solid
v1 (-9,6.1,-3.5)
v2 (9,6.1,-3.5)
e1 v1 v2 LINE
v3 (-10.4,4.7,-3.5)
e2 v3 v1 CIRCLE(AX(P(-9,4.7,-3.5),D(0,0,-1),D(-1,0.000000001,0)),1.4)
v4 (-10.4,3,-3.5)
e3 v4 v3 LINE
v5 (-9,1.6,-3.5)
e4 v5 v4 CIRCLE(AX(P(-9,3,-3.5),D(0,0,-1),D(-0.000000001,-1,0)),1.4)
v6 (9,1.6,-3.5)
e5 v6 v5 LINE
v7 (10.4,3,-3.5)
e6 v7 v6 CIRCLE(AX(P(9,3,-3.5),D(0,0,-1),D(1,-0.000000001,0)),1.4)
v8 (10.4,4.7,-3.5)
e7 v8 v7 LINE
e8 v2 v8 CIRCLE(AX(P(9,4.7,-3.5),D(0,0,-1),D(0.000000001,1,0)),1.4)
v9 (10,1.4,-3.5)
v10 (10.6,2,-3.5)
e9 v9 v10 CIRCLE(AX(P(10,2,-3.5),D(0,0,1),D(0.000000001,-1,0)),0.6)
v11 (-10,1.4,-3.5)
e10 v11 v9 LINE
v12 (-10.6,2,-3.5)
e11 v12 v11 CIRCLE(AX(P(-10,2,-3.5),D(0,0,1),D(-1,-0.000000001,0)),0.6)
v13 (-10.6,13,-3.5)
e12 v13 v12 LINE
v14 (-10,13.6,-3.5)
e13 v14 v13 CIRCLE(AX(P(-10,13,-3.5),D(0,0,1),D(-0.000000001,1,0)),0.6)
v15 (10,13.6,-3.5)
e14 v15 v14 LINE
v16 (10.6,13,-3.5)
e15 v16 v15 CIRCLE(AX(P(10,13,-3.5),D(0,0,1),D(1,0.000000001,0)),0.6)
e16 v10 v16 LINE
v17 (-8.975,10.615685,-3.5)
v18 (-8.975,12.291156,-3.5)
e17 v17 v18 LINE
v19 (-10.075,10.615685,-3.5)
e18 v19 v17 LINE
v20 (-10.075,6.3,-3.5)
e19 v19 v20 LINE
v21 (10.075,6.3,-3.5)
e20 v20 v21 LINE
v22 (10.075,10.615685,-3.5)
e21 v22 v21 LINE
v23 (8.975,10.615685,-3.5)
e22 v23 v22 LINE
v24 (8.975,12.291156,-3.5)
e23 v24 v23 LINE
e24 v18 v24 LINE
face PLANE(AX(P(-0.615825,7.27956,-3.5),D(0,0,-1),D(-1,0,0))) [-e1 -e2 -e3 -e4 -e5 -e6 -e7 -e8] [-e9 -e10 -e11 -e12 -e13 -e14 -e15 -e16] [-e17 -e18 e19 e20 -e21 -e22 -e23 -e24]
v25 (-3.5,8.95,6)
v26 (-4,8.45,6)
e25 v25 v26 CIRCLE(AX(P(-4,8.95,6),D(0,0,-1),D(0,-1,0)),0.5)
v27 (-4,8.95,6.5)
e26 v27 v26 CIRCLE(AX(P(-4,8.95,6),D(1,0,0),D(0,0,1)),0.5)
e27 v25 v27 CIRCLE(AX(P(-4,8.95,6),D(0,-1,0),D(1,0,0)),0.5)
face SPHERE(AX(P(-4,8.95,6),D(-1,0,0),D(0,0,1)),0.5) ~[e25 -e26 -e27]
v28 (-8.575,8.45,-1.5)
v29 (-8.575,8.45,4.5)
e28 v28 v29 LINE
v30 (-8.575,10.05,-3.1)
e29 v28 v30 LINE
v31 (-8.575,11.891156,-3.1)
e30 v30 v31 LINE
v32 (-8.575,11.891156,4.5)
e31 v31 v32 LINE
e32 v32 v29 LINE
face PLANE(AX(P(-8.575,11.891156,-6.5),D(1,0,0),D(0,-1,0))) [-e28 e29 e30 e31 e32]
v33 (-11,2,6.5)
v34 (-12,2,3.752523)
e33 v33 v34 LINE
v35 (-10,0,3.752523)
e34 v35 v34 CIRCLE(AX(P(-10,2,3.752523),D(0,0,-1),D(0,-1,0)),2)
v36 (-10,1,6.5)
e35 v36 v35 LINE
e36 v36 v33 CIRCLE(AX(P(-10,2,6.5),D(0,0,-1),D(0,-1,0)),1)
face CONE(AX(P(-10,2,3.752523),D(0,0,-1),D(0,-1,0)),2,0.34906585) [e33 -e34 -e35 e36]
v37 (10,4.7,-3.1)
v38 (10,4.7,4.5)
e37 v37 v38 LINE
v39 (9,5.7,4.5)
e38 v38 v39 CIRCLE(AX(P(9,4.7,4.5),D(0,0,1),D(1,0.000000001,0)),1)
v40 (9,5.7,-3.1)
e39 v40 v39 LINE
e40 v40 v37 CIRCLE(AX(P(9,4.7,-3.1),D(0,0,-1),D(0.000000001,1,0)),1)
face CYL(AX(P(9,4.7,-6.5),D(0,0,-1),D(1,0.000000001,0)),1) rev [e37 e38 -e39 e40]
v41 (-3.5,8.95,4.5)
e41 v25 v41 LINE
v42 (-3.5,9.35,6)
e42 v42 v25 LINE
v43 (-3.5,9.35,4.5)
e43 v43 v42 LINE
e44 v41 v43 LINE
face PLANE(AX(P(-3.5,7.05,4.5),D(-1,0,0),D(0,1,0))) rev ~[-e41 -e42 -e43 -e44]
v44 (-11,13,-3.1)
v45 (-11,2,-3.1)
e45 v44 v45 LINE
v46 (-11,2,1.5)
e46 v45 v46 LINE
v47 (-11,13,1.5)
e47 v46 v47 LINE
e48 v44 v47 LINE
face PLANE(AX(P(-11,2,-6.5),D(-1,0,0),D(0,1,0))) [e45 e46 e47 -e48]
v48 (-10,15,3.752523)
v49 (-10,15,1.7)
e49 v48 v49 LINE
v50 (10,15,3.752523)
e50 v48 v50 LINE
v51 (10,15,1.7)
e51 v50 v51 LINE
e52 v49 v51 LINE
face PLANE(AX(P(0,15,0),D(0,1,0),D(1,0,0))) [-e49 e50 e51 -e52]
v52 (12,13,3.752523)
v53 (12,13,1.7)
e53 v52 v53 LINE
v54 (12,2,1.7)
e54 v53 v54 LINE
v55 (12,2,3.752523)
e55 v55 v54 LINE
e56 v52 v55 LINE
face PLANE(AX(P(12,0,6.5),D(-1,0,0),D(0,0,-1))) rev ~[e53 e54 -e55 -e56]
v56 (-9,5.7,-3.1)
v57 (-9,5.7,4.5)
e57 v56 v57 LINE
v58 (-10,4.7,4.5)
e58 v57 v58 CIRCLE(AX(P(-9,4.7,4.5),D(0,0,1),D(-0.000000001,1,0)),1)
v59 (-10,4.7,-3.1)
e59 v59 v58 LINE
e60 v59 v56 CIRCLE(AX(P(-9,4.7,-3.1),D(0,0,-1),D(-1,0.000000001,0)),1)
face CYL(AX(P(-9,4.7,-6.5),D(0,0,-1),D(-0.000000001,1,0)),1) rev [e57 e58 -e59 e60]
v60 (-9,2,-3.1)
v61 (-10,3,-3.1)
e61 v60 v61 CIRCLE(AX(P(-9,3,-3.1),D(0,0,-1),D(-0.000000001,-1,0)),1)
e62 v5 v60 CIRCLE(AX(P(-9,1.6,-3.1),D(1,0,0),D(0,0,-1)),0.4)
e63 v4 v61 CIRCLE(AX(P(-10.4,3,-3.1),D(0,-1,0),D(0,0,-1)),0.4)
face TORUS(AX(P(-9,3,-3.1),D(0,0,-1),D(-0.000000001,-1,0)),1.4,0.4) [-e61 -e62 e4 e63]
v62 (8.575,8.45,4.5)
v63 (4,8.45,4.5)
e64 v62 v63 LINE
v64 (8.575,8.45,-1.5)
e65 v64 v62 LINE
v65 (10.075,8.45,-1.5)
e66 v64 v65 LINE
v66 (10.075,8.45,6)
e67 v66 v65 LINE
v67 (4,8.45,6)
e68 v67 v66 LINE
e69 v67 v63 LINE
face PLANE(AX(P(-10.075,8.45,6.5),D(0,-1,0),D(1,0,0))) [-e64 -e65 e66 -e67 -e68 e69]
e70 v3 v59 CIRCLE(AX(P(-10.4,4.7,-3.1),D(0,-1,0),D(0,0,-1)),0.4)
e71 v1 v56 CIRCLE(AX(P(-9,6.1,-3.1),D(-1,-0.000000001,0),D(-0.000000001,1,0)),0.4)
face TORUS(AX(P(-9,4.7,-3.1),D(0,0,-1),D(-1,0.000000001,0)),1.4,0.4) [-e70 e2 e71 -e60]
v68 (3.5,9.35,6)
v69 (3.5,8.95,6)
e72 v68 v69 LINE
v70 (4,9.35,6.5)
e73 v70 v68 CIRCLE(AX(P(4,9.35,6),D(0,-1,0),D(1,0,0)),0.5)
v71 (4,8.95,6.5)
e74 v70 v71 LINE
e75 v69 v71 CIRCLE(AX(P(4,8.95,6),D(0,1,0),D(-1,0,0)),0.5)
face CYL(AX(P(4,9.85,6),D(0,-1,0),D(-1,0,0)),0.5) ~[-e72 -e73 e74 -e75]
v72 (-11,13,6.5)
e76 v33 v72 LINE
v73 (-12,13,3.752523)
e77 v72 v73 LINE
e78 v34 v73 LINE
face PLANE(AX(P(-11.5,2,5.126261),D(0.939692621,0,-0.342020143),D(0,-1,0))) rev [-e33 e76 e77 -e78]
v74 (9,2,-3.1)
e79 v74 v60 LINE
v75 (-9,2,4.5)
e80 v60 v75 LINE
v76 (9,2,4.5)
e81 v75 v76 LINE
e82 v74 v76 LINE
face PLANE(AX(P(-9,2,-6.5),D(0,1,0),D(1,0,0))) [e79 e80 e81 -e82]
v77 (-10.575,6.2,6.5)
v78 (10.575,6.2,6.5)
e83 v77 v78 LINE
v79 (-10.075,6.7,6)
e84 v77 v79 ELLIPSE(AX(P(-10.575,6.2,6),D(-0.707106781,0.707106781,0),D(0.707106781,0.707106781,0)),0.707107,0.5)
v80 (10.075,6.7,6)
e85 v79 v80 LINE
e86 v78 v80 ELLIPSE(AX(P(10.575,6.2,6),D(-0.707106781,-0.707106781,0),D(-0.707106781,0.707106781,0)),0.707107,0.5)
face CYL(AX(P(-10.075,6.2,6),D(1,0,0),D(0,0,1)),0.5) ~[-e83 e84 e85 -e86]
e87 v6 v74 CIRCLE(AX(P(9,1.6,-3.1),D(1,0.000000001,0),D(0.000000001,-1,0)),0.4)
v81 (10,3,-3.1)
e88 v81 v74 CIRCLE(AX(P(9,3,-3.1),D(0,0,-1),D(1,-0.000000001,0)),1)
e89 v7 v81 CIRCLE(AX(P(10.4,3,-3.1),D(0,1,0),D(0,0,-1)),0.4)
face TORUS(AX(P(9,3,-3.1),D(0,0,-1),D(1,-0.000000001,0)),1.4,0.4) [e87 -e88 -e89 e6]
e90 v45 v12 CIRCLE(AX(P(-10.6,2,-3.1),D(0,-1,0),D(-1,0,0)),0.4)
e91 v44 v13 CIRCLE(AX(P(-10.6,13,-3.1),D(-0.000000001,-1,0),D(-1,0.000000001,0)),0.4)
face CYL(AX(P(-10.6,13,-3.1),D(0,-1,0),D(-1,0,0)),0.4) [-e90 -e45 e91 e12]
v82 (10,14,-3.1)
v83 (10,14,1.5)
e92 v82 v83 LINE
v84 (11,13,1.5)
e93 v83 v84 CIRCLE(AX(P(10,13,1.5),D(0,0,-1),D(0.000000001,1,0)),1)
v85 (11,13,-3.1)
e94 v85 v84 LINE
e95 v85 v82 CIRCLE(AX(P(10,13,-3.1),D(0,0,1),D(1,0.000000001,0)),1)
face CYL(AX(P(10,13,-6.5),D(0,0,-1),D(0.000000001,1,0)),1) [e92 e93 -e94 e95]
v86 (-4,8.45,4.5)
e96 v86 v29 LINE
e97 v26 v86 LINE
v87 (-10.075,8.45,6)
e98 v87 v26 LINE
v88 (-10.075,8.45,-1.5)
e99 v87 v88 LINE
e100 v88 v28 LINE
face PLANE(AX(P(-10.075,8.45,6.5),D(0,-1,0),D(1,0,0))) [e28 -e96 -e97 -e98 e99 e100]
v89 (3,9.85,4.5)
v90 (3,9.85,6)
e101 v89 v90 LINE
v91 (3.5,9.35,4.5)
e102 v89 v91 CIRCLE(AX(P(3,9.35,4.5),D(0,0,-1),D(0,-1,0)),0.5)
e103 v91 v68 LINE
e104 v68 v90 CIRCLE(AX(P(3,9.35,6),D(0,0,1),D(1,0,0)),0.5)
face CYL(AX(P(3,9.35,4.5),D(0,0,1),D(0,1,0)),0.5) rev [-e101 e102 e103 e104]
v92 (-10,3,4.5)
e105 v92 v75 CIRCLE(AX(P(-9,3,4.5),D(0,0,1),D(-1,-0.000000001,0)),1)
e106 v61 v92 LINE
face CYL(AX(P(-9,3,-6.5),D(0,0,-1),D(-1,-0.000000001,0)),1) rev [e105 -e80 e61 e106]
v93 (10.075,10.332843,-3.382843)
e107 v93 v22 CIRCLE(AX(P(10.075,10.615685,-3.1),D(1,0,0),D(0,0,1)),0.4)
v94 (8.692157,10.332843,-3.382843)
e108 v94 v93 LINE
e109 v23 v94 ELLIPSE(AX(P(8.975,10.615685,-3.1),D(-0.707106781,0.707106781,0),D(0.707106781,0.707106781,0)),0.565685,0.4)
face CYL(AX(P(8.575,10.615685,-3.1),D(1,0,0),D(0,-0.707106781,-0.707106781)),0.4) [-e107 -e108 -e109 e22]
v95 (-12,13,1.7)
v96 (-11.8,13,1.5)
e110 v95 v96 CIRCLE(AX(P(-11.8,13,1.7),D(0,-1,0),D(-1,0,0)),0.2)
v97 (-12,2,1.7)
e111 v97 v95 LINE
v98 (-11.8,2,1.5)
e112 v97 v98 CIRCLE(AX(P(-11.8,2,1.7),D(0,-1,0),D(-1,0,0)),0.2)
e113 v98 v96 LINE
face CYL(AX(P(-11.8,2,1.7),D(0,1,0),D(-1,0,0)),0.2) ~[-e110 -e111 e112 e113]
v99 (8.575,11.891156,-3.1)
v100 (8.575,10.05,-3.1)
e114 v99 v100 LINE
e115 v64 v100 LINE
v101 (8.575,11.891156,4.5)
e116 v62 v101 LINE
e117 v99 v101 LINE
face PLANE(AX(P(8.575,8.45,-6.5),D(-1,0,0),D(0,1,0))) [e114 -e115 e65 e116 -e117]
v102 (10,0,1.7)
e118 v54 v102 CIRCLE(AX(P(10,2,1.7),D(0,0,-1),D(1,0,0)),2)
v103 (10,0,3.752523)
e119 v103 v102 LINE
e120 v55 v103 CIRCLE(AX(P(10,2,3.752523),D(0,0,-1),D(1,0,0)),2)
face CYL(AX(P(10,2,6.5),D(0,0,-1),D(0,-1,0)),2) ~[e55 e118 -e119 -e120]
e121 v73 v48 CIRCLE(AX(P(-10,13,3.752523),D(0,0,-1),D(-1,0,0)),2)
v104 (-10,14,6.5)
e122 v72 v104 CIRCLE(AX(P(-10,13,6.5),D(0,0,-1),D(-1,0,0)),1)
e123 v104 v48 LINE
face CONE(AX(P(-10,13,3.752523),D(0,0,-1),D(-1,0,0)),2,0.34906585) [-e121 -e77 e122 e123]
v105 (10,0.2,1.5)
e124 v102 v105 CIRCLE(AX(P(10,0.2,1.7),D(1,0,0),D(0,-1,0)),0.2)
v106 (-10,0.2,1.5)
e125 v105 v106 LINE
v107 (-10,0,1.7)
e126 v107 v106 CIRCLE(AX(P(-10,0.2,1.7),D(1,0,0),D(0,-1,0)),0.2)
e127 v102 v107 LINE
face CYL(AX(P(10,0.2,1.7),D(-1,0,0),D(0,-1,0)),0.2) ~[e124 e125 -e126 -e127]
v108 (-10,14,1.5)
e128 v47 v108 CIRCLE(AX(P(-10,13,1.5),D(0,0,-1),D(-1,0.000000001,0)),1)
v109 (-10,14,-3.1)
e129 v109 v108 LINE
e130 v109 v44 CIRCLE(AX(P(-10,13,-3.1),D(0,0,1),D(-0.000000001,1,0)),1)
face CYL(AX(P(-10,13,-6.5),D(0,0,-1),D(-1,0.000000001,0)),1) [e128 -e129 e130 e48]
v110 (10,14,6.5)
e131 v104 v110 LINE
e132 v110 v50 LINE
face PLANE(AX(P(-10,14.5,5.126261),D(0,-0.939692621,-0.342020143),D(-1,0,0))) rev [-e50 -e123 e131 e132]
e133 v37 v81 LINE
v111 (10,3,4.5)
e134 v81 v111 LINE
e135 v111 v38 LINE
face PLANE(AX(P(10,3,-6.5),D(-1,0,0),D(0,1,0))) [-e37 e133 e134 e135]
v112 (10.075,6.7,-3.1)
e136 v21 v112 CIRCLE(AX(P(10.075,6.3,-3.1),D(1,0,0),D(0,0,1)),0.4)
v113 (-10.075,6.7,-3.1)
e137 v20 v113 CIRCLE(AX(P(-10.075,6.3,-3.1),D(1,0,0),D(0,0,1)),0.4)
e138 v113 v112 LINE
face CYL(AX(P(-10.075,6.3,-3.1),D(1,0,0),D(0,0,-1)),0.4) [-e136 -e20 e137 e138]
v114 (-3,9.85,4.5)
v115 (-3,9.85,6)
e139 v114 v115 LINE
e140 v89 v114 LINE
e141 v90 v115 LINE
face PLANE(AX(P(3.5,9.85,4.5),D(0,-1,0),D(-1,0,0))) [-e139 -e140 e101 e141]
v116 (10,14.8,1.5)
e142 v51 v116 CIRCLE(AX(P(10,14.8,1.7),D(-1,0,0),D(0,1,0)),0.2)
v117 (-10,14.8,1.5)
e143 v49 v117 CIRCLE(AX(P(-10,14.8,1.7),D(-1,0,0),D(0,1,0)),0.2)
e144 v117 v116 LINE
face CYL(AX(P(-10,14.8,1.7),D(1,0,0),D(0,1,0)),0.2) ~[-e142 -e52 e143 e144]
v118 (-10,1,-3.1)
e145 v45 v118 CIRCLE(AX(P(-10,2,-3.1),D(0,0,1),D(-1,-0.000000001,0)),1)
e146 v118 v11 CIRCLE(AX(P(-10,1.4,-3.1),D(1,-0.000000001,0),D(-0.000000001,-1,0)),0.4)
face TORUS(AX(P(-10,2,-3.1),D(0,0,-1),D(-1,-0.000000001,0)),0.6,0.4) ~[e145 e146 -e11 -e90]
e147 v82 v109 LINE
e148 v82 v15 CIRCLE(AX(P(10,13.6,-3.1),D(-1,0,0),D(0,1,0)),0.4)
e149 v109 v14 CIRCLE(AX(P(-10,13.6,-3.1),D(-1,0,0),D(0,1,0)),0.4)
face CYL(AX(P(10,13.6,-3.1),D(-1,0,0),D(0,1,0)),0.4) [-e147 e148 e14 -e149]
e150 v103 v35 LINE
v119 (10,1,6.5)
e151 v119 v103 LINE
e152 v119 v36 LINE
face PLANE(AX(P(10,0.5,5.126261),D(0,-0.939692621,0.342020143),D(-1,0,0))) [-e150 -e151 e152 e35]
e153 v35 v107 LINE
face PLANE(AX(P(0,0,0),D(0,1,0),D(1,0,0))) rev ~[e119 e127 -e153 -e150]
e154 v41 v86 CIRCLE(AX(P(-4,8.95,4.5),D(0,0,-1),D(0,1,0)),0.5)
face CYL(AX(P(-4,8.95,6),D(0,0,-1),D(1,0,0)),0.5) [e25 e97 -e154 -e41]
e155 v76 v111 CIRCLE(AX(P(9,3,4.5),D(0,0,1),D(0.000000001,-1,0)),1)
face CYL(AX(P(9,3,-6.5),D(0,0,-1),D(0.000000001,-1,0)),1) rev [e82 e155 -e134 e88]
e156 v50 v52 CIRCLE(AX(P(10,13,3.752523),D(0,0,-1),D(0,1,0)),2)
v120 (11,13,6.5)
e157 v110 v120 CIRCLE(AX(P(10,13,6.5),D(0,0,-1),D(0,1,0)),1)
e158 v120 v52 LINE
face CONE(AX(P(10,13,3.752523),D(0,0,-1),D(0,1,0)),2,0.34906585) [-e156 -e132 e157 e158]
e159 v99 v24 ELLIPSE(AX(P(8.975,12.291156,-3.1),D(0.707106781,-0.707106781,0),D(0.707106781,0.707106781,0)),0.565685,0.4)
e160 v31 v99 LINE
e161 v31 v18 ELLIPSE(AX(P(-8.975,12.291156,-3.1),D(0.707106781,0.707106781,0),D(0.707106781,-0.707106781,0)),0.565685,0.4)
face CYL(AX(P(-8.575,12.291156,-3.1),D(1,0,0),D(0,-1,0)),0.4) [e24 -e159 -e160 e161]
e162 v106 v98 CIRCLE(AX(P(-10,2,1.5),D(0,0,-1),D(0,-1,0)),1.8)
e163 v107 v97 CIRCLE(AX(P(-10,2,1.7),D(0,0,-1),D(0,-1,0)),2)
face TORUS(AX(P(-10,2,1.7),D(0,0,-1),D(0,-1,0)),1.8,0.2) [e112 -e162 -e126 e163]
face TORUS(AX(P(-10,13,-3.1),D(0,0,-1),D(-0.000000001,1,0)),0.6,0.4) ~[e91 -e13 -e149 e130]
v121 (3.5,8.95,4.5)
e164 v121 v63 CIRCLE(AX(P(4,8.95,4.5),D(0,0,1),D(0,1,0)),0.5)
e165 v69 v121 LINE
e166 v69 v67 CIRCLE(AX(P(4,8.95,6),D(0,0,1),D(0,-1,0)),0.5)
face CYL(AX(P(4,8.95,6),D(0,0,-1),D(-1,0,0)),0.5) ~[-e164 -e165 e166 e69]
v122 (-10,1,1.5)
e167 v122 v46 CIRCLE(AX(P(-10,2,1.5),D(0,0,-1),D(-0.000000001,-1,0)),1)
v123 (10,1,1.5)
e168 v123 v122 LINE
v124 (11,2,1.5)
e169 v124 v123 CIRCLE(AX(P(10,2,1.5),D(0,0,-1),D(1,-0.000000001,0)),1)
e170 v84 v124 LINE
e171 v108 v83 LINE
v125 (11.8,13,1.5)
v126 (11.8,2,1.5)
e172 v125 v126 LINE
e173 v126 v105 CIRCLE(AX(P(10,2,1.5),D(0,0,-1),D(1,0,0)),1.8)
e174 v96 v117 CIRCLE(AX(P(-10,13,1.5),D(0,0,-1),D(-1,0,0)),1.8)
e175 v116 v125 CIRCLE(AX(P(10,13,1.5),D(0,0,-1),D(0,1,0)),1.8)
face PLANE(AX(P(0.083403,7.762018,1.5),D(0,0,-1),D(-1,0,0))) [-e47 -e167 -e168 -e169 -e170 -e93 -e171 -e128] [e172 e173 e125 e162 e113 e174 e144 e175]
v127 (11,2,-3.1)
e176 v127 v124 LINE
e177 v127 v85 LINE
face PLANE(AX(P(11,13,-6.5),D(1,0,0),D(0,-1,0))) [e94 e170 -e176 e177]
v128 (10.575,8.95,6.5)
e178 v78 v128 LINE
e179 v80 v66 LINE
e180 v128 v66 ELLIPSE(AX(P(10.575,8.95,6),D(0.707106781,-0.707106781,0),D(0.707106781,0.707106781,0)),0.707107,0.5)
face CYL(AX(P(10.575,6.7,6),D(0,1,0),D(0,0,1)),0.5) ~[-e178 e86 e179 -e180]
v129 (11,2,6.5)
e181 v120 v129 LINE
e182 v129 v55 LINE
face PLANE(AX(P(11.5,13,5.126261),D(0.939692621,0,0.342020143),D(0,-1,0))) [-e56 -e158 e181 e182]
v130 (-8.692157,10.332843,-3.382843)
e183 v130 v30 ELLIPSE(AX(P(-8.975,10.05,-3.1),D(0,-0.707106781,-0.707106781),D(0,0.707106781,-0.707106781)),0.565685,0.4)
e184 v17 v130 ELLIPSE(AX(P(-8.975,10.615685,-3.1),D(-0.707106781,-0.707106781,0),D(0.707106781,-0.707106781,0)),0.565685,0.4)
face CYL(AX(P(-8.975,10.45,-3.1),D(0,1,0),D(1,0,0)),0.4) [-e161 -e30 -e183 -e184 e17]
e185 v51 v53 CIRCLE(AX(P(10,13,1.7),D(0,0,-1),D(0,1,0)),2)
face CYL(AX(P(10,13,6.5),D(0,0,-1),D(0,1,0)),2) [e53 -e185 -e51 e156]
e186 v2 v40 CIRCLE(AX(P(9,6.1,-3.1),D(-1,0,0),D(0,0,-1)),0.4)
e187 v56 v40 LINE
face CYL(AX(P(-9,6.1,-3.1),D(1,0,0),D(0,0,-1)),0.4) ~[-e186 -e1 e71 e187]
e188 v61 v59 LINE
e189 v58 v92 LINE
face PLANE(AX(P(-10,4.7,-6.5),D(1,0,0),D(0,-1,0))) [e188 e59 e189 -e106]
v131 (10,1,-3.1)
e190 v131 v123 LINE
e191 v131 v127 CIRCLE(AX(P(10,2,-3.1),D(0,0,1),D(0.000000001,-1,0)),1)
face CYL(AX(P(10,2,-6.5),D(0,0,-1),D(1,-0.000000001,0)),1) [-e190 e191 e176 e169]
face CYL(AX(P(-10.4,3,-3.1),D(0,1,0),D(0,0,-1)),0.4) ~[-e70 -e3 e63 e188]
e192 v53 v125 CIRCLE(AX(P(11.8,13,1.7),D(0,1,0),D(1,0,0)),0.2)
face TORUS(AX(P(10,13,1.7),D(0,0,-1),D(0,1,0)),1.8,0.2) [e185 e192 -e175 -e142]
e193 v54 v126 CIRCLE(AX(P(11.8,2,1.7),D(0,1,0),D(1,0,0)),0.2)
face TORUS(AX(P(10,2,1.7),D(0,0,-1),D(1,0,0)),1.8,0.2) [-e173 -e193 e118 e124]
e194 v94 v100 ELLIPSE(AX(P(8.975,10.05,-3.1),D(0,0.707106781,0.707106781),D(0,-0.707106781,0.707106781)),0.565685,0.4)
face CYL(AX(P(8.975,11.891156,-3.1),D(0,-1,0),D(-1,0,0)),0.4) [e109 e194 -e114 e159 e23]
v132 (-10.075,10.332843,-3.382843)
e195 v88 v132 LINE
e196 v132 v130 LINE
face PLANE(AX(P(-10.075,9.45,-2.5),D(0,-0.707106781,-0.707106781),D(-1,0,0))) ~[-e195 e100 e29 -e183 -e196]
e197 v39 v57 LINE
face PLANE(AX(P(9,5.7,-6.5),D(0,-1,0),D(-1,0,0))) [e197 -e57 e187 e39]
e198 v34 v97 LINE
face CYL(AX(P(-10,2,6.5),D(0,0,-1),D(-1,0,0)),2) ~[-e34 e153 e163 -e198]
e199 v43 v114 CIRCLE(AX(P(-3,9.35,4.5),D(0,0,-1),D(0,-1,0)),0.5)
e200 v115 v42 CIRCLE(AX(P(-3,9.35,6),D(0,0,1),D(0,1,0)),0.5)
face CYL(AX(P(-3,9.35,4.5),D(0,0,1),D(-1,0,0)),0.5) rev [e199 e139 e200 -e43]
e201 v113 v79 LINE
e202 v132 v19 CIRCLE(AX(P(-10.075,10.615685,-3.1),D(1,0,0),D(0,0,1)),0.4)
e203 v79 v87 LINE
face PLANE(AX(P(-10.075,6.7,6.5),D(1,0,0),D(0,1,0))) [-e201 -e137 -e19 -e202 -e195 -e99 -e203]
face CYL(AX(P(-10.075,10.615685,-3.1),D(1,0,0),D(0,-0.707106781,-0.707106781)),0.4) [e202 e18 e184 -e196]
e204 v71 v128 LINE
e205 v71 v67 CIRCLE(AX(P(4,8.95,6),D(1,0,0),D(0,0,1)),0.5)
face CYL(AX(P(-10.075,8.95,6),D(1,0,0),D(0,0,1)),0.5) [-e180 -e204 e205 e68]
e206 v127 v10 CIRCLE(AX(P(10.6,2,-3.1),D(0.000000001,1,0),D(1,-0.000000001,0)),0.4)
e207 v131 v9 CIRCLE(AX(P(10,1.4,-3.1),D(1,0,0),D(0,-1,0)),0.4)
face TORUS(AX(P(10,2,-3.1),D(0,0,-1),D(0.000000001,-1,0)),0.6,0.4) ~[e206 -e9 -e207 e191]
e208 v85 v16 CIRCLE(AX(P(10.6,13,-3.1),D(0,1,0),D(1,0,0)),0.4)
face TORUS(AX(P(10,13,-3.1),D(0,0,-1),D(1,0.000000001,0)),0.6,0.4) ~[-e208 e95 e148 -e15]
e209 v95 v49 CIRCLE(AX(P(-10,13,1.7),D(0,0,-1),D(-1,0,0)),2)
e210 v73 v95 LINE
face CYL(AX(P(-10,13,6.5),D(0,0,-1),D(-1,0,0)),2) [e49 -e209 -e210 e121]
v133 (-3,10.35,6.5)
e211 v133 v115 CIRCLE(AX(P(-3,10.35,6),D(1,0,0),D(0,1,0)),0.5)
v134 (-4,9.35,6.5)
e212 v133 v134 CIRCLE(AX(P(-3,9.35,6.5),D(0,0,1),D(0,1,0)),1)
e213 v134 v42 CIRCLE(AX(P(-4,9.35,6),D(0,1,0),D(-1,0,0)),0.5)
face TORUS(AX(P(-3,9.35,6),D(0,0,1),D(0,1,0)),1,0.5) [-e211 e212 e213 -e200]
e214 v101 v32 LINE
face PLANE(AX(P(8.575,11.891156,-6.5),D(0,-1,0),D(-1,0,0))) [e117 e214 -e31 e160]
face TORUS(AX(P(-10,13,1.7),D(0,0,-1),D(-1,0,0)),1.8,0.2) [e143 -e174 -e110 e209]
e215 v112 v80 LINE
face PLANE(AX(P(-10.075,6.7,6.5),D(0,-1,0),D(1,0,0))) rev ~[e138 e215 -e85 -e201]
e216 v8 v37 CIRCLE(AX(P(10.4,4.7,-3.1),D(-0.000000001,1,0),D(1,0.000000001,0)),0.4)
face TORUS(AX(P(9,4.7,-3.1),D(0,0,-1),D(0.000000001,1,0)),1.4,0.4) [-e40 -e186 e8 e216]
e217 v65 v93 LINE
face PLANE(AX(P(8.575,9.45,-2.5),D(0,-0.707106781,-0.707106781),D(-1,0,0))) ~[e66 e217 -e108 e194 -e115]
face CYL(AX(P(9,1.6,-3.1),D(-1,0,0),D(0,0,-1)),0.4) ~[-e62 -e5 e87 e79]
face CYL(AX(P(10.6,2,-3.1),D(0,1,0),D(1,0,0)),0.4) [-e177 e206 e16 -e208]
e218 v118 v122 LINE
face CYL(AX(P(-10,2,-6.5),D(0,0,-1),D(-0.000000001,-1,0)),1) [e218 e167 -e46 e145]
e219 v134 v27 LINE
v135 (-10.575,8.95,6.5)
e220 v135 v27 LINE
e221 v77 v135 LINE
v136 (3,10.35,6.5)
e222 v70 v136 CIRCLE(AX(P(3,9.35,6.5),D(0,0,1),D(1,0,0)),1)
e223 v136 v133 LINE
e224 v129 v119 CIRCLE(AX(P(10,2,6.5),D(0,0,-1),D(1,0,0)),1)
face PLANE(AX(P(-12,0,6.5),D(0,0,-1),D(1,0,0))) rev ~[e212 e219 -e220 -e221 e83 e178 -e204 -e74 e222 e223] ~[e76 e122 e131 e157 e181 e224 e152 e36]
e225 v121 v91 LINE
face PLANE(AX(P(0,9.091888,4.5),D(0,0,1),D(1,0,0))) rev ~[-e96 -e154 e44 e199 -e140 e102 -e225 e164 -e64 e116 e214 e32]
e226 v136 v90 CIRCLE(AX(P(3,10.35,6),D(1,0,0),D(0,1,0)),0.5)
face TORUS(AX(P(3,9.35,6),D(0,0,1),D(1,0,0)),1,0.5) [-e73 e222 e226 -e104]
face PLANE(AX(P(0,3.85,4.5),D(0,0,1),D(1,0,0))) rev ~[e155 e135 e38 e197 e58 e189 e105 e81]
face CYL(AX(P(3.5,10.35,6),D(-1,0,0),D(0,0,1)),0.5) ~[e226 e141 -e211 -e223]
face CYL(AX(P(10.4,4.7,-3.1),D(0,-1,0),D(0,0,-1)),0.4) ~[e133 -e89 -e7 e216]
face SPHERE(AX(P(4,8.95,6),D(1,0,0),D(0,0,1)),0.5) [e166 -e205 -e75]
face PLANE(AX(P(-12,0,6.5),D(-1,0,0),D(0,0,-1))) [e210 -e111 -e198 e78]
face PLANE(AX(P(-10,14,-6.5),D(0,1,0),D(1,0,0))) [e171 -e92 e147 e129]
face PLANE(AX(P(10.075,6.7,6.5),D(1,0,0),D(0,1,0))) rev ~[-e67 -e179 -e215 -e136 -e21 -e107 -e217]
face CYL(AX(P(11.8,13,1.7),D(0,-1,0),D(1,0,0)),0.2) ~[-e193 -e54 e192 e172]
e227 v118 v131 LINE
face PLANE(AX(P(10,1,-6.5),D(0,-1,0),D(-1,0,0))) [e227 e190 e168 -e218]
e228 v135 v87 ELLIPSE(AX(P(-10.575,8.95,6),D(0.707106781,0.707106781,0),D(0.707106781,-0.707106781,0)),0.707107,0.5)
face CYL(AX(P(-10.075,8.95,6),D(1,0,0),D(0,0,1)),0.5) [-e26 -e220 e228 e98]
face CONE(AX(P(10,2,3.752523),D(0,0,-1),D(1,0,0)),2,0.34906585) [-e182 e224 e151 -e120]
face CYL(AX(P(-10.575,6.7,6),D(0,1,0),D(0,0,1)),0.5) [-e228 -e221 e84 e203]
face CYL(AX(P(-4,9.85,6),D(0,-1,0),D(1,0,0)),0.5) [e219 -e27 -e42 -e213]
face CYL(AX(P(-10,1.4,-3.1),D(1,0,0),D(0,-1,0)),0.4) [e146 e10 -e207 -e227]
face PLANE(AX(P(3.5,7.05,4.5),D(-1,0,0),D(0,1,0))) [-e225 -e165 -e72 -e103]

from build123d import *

# Parameters (mm, degrees)
SKETCH1_W           = 24
SKETCH1_H           = 13
BOSS_EXTRUDE1_DEPTH = 15
SKETCH2_W           = 20.15
SKETCH2_H           = 1.75
CUT_EXTRUDE1_DEPTH  = 15
FILLET1_R           = 2
CHAMFER2_SIZE       = 1
CHAMFER2_SIZE2      = 2.747477419
FILLET2_R           = 0.5
CUT_EXTRUDE4_DEPTH  = 11
SKETCH5_W           = 26.855674208
SKETCH5_H           = 19.307728506
CUT_EXTRUDE5_DEPTH  = 8
CUT_EXTRUDE6_DEPTH  = 11
SKETCH7_W           = 29.982721697
SKETCH7_H           = 21.559004648
CUT_EXTRUDE7_DEPTH  = 3
CHAMFER3_SIZE       = 2
FILLET3_R           = 0.4
FILLET4_R           = 0.2
SKETCH8_W           = 7
SKETCH8_H           = 2.8
CUT_EXTRUDE8_DEPTH  = 21.808652047
FILLET5_R           = 0.5


with BuildPart() as part:
    # Sketch1 → Boss-Extrude1 (new body)
    with BuildSketch(Plane(origin=(0, 0, 0), x_dir=(1, 0, 0), z_dir=(0, 1, 0))):
        Rectangle(SKETCH1_W, SKETCH1_H)
    extrude(amount=BOSS_EXTRUDE1_DEPTH)

    # Sketch2 → Cut-Extrude1 (cut)
    with BuildSketch(Plane.XY.offset(6.5)):
        with Locations((0, 7.575)):
            Rectangle(SKETCH2_W, SKETCH2_H)
    extrude(amount=-CUT_EXTRUDE1_DEPTH, mode=Mode.SUBTRACT)

    # Fillet1
    fillet1_edges = [part.edges().sort_by_distance(p)[0] for p in [
        (-12, 15, 0),
        (12, 15, 0),
        (-12, 0, 0),
        (12, 0, 0),
    ]]
    fillet(fillet1_edges, radius=FILLET1_R)

    # Chamfer2
    chamfer2_edges = [part.edges().sort_by_distance(p)[0] for p in [
        (0, 15, 6.5),
        (12, 7.5, 6.5),
        (0, 0, 6.5),
        (-12, 7.5, 6.5),
        (-11.414213562, 14.414213562, 6.5),
        (-11.414213562, 0.585786438, 6.5),
        (11.414213562, 0.585786438, 6.5),
        (11.414213562, 14.414213562, 6.5),
    ]]
    chamfer2_side = [part.faces().sort_by_distance(p)[0] for p in [
        (11.716980566, 7.5, 6.5),
    ]]
    chamfer(chamfer2_edges, length=CHAMFER2_SIZE, length2=CHAMFER2_SIZE2, reference=chamfer2_side[0])

    # Fillet2
    fillet2_edges = [part.edges().sort_by_distance(p)[0] for p in [
        (10.075, 7.575, 6.5),
        (0, 8.45, 6.5),
        (-10.075, 7.575, 6.5),
        (0, 6.7, 6.5),
    ]]
    fillet(fillet2_edges, radius=FILLET2_R)

    # Sketch4 → Cut-Extrude4 (cut)
    with BuildSketch(Plane(origin=(0, 0, -6.5), x_dir=(-1, 0, 0), z_dir=(0, 0, -1))):
        Polygon((-10.075, 8.45), (-8.575, 8.45), (-8.575, 11.891155889), (8.575, 11.891155889), (8.575, 8.45), (10.075, 8.45), (10.075, 6.7), (-10.075, 6.7), align=None)
    extrude(amount=-CUT_EXTRUDE4_DEPTH, mode=Mode.SUBTRACT)

    # Sketch5 → Cut-Extrude5 (cut)
    with BuildSketch(Plane(origin=(0, 0, -6.5), x_dir=(-1, 0, 0), z_dir=(0, 0, -1))):
        with Locations((-0.083402715, 7.762018115)):
            Rectangle(SKETCH5_W, SKETCH5_H)
        with BuildLine():
            Line((10, 14), (-10, 14))
            ThreePointArc((-10, 14), (-10.707106781, 13.707106781), (-11, 13))
            Line((-11, 13), (-11, 2))
            ThreePointArc((-11, 2), (-10.707106781, 1.292893219), (-10, 1))
            Line((-10, 1), (10, 1))
            ThreePointArc((10, 1), (10.707106781, 1.292893219), (11, 2))
            Line((11, 2), (11, 13))
            ThreePointArc((11, 13), (10.707106781, 13.707106781), (10, 14))
        make_face(mode=Mode.SUBTRACT)
    extrude(amount=-CUT_EXTRUDE5_DEPTH, mode=Mode.SUBTRACT)

    # Sketch6 → Cut-Extrude6 (cut)
    with BuildSketch(Plane(origin=(0, 0, -6.5), x_dir=(-1, 0, 0), z_dir=(0, 0, -1))):
        with BuildLine():
            Line((-9, 5.7), (9, 5.7))
            ThreePointArc((9, 5.7), (9.707106781, 5.407106781), (10, 4.7))
            Line((10, 4.7), (10, 3))
            ThreePointArc((10, 3), (9.707106781, 2.292893219), (9, 2))
            Line((9, 2), (-9, 2))
            ThreePointArc((-9, 2), (-9.707106781, 2.292893219), (-10, 3))
            Line((-10, 3), (-10, 4.7))
            ThreePointArc((-10, 4.7), (-9.707106781, 5.407106781), (-9, 5.7))
        make_face()
    extrude(amount=-CUT_EXTRUDE6_DEPTH, mode=Mode.SUBTRACT)

    # Sketch7 → Cut-Extrude7 (cut)
    with BuildSketch(Plane(origin=(0, 0, -6.5), x_dir=(-1, 0, 0), z_dir=(0, 0, -1))):
        with Locations((0.615824589, 7.279559508)):
            Rectangle(SKETCH7_W, SKETCH7_H)
    extrude(amount=-CUT_EXTRUDE7_DEPTH, mode=Mode.SUBTRACT)

    # Chamfer3
    chamfer3_edges = [part.edges().sort_by_distance(p)[0] for p in [
        (9.325, 8.45, -3.5),
        (-9.325, 8.45, -3.5),
    ]]
    chamfer(chamfer3_edges, length=CHAMFER3_SIZE)

    # Fillet3
    fillet3_edges = [part.edges().sort_by_distance(p)[0] for p in [
        (-10, 3.85, -3.5),
        (0, 14, -3.5),
        (-10.707106781, 13.707106781, -3.5),
        (-11, 7.5, -3.5),
        (-10.707106781, 1.292893219, -3.5),
        (0, 1, -3.5),
        (10.707106781, 1.292893219, -3.5),
        (11, 7.5, -3.5),
        (10.707106781, 13.707106781, -3.5),
        (0, 6.7, -3.5),
        (0, 11.891155889, -3.5),
        (-8.575, 11.170577944, -3.5),
        (-9.707106781, 2.292893219, -3.5),
        (0, 2, -3.5),
        (9.707106781, 2.292893219, -3.5),
        (10, 3.85, -3.5),
        (9.707106781, 5.407106781, -3.5),
        (0, 5.7, -3.5),
        (-9.707106781, 5.407106781, -3.5),
        (8.575, 11.170577944, -3.5),
        (-9.325, 10.45, -3.5),
        (9.325, 10.45, -3.5),
    ]]
    fillet(fillet3_edges, radius=FILLET3_R)

    # Fillet4
    fillet4_edges = [part.edges().sort_by_distance(p)[0] for p in [
        (-11.414213562, 14.414213562, 1.5),
        (0, 0, 1.5),
        (-12, 7.5, 1.5),
        (12, 7.5, 1.5),
        (11.414213562, 0.585786438, 1.5),
        (11.414213562, 14.414213562, 1.5),
        (0, 15, 1.5),
        (-11.414213562, 0.585786438, 1.5),
    ]]
    fillet(fillet4_edges, radius=FILLET4_R)

    # Sketch8 → Cut-Extrude8 (cut, through all)
    with BuildSketch(Plane(origin=(0, 0, 4.5), x_dir=(-1, 0, 0), z_dir=(0, 0, -1))):
        with Locations((0, 8.45)):
            Rectangle(SKETCH8_W, SKETCH8_H)
    extrude(amount=-CUT_EXTRUDE8_DEPTH, mode=Mode.SUBTRACT)

    # Fillet5
    fillet5_edges = [part.edges().sort_by_distance(p)[0] for p in [
        (-3.5, 8.45, 5.25),
        (-3.5, 9.4, 6.5),
        (-3.5, 9.85, 5.5),
        (3.5, 8.45, 5.25),
        (3.5, 9.4, 6.5),
        (-3.5, 8.596446609, 6.353553391),
        (3.5, 8.596446609, 6.353553391),
        (0, 9.85, 6.5),
        (3.5, 9.85, 5.5),
    ]]
    fillet(fillet5_edges, radius=FILLET5_R)


solid = part.part
